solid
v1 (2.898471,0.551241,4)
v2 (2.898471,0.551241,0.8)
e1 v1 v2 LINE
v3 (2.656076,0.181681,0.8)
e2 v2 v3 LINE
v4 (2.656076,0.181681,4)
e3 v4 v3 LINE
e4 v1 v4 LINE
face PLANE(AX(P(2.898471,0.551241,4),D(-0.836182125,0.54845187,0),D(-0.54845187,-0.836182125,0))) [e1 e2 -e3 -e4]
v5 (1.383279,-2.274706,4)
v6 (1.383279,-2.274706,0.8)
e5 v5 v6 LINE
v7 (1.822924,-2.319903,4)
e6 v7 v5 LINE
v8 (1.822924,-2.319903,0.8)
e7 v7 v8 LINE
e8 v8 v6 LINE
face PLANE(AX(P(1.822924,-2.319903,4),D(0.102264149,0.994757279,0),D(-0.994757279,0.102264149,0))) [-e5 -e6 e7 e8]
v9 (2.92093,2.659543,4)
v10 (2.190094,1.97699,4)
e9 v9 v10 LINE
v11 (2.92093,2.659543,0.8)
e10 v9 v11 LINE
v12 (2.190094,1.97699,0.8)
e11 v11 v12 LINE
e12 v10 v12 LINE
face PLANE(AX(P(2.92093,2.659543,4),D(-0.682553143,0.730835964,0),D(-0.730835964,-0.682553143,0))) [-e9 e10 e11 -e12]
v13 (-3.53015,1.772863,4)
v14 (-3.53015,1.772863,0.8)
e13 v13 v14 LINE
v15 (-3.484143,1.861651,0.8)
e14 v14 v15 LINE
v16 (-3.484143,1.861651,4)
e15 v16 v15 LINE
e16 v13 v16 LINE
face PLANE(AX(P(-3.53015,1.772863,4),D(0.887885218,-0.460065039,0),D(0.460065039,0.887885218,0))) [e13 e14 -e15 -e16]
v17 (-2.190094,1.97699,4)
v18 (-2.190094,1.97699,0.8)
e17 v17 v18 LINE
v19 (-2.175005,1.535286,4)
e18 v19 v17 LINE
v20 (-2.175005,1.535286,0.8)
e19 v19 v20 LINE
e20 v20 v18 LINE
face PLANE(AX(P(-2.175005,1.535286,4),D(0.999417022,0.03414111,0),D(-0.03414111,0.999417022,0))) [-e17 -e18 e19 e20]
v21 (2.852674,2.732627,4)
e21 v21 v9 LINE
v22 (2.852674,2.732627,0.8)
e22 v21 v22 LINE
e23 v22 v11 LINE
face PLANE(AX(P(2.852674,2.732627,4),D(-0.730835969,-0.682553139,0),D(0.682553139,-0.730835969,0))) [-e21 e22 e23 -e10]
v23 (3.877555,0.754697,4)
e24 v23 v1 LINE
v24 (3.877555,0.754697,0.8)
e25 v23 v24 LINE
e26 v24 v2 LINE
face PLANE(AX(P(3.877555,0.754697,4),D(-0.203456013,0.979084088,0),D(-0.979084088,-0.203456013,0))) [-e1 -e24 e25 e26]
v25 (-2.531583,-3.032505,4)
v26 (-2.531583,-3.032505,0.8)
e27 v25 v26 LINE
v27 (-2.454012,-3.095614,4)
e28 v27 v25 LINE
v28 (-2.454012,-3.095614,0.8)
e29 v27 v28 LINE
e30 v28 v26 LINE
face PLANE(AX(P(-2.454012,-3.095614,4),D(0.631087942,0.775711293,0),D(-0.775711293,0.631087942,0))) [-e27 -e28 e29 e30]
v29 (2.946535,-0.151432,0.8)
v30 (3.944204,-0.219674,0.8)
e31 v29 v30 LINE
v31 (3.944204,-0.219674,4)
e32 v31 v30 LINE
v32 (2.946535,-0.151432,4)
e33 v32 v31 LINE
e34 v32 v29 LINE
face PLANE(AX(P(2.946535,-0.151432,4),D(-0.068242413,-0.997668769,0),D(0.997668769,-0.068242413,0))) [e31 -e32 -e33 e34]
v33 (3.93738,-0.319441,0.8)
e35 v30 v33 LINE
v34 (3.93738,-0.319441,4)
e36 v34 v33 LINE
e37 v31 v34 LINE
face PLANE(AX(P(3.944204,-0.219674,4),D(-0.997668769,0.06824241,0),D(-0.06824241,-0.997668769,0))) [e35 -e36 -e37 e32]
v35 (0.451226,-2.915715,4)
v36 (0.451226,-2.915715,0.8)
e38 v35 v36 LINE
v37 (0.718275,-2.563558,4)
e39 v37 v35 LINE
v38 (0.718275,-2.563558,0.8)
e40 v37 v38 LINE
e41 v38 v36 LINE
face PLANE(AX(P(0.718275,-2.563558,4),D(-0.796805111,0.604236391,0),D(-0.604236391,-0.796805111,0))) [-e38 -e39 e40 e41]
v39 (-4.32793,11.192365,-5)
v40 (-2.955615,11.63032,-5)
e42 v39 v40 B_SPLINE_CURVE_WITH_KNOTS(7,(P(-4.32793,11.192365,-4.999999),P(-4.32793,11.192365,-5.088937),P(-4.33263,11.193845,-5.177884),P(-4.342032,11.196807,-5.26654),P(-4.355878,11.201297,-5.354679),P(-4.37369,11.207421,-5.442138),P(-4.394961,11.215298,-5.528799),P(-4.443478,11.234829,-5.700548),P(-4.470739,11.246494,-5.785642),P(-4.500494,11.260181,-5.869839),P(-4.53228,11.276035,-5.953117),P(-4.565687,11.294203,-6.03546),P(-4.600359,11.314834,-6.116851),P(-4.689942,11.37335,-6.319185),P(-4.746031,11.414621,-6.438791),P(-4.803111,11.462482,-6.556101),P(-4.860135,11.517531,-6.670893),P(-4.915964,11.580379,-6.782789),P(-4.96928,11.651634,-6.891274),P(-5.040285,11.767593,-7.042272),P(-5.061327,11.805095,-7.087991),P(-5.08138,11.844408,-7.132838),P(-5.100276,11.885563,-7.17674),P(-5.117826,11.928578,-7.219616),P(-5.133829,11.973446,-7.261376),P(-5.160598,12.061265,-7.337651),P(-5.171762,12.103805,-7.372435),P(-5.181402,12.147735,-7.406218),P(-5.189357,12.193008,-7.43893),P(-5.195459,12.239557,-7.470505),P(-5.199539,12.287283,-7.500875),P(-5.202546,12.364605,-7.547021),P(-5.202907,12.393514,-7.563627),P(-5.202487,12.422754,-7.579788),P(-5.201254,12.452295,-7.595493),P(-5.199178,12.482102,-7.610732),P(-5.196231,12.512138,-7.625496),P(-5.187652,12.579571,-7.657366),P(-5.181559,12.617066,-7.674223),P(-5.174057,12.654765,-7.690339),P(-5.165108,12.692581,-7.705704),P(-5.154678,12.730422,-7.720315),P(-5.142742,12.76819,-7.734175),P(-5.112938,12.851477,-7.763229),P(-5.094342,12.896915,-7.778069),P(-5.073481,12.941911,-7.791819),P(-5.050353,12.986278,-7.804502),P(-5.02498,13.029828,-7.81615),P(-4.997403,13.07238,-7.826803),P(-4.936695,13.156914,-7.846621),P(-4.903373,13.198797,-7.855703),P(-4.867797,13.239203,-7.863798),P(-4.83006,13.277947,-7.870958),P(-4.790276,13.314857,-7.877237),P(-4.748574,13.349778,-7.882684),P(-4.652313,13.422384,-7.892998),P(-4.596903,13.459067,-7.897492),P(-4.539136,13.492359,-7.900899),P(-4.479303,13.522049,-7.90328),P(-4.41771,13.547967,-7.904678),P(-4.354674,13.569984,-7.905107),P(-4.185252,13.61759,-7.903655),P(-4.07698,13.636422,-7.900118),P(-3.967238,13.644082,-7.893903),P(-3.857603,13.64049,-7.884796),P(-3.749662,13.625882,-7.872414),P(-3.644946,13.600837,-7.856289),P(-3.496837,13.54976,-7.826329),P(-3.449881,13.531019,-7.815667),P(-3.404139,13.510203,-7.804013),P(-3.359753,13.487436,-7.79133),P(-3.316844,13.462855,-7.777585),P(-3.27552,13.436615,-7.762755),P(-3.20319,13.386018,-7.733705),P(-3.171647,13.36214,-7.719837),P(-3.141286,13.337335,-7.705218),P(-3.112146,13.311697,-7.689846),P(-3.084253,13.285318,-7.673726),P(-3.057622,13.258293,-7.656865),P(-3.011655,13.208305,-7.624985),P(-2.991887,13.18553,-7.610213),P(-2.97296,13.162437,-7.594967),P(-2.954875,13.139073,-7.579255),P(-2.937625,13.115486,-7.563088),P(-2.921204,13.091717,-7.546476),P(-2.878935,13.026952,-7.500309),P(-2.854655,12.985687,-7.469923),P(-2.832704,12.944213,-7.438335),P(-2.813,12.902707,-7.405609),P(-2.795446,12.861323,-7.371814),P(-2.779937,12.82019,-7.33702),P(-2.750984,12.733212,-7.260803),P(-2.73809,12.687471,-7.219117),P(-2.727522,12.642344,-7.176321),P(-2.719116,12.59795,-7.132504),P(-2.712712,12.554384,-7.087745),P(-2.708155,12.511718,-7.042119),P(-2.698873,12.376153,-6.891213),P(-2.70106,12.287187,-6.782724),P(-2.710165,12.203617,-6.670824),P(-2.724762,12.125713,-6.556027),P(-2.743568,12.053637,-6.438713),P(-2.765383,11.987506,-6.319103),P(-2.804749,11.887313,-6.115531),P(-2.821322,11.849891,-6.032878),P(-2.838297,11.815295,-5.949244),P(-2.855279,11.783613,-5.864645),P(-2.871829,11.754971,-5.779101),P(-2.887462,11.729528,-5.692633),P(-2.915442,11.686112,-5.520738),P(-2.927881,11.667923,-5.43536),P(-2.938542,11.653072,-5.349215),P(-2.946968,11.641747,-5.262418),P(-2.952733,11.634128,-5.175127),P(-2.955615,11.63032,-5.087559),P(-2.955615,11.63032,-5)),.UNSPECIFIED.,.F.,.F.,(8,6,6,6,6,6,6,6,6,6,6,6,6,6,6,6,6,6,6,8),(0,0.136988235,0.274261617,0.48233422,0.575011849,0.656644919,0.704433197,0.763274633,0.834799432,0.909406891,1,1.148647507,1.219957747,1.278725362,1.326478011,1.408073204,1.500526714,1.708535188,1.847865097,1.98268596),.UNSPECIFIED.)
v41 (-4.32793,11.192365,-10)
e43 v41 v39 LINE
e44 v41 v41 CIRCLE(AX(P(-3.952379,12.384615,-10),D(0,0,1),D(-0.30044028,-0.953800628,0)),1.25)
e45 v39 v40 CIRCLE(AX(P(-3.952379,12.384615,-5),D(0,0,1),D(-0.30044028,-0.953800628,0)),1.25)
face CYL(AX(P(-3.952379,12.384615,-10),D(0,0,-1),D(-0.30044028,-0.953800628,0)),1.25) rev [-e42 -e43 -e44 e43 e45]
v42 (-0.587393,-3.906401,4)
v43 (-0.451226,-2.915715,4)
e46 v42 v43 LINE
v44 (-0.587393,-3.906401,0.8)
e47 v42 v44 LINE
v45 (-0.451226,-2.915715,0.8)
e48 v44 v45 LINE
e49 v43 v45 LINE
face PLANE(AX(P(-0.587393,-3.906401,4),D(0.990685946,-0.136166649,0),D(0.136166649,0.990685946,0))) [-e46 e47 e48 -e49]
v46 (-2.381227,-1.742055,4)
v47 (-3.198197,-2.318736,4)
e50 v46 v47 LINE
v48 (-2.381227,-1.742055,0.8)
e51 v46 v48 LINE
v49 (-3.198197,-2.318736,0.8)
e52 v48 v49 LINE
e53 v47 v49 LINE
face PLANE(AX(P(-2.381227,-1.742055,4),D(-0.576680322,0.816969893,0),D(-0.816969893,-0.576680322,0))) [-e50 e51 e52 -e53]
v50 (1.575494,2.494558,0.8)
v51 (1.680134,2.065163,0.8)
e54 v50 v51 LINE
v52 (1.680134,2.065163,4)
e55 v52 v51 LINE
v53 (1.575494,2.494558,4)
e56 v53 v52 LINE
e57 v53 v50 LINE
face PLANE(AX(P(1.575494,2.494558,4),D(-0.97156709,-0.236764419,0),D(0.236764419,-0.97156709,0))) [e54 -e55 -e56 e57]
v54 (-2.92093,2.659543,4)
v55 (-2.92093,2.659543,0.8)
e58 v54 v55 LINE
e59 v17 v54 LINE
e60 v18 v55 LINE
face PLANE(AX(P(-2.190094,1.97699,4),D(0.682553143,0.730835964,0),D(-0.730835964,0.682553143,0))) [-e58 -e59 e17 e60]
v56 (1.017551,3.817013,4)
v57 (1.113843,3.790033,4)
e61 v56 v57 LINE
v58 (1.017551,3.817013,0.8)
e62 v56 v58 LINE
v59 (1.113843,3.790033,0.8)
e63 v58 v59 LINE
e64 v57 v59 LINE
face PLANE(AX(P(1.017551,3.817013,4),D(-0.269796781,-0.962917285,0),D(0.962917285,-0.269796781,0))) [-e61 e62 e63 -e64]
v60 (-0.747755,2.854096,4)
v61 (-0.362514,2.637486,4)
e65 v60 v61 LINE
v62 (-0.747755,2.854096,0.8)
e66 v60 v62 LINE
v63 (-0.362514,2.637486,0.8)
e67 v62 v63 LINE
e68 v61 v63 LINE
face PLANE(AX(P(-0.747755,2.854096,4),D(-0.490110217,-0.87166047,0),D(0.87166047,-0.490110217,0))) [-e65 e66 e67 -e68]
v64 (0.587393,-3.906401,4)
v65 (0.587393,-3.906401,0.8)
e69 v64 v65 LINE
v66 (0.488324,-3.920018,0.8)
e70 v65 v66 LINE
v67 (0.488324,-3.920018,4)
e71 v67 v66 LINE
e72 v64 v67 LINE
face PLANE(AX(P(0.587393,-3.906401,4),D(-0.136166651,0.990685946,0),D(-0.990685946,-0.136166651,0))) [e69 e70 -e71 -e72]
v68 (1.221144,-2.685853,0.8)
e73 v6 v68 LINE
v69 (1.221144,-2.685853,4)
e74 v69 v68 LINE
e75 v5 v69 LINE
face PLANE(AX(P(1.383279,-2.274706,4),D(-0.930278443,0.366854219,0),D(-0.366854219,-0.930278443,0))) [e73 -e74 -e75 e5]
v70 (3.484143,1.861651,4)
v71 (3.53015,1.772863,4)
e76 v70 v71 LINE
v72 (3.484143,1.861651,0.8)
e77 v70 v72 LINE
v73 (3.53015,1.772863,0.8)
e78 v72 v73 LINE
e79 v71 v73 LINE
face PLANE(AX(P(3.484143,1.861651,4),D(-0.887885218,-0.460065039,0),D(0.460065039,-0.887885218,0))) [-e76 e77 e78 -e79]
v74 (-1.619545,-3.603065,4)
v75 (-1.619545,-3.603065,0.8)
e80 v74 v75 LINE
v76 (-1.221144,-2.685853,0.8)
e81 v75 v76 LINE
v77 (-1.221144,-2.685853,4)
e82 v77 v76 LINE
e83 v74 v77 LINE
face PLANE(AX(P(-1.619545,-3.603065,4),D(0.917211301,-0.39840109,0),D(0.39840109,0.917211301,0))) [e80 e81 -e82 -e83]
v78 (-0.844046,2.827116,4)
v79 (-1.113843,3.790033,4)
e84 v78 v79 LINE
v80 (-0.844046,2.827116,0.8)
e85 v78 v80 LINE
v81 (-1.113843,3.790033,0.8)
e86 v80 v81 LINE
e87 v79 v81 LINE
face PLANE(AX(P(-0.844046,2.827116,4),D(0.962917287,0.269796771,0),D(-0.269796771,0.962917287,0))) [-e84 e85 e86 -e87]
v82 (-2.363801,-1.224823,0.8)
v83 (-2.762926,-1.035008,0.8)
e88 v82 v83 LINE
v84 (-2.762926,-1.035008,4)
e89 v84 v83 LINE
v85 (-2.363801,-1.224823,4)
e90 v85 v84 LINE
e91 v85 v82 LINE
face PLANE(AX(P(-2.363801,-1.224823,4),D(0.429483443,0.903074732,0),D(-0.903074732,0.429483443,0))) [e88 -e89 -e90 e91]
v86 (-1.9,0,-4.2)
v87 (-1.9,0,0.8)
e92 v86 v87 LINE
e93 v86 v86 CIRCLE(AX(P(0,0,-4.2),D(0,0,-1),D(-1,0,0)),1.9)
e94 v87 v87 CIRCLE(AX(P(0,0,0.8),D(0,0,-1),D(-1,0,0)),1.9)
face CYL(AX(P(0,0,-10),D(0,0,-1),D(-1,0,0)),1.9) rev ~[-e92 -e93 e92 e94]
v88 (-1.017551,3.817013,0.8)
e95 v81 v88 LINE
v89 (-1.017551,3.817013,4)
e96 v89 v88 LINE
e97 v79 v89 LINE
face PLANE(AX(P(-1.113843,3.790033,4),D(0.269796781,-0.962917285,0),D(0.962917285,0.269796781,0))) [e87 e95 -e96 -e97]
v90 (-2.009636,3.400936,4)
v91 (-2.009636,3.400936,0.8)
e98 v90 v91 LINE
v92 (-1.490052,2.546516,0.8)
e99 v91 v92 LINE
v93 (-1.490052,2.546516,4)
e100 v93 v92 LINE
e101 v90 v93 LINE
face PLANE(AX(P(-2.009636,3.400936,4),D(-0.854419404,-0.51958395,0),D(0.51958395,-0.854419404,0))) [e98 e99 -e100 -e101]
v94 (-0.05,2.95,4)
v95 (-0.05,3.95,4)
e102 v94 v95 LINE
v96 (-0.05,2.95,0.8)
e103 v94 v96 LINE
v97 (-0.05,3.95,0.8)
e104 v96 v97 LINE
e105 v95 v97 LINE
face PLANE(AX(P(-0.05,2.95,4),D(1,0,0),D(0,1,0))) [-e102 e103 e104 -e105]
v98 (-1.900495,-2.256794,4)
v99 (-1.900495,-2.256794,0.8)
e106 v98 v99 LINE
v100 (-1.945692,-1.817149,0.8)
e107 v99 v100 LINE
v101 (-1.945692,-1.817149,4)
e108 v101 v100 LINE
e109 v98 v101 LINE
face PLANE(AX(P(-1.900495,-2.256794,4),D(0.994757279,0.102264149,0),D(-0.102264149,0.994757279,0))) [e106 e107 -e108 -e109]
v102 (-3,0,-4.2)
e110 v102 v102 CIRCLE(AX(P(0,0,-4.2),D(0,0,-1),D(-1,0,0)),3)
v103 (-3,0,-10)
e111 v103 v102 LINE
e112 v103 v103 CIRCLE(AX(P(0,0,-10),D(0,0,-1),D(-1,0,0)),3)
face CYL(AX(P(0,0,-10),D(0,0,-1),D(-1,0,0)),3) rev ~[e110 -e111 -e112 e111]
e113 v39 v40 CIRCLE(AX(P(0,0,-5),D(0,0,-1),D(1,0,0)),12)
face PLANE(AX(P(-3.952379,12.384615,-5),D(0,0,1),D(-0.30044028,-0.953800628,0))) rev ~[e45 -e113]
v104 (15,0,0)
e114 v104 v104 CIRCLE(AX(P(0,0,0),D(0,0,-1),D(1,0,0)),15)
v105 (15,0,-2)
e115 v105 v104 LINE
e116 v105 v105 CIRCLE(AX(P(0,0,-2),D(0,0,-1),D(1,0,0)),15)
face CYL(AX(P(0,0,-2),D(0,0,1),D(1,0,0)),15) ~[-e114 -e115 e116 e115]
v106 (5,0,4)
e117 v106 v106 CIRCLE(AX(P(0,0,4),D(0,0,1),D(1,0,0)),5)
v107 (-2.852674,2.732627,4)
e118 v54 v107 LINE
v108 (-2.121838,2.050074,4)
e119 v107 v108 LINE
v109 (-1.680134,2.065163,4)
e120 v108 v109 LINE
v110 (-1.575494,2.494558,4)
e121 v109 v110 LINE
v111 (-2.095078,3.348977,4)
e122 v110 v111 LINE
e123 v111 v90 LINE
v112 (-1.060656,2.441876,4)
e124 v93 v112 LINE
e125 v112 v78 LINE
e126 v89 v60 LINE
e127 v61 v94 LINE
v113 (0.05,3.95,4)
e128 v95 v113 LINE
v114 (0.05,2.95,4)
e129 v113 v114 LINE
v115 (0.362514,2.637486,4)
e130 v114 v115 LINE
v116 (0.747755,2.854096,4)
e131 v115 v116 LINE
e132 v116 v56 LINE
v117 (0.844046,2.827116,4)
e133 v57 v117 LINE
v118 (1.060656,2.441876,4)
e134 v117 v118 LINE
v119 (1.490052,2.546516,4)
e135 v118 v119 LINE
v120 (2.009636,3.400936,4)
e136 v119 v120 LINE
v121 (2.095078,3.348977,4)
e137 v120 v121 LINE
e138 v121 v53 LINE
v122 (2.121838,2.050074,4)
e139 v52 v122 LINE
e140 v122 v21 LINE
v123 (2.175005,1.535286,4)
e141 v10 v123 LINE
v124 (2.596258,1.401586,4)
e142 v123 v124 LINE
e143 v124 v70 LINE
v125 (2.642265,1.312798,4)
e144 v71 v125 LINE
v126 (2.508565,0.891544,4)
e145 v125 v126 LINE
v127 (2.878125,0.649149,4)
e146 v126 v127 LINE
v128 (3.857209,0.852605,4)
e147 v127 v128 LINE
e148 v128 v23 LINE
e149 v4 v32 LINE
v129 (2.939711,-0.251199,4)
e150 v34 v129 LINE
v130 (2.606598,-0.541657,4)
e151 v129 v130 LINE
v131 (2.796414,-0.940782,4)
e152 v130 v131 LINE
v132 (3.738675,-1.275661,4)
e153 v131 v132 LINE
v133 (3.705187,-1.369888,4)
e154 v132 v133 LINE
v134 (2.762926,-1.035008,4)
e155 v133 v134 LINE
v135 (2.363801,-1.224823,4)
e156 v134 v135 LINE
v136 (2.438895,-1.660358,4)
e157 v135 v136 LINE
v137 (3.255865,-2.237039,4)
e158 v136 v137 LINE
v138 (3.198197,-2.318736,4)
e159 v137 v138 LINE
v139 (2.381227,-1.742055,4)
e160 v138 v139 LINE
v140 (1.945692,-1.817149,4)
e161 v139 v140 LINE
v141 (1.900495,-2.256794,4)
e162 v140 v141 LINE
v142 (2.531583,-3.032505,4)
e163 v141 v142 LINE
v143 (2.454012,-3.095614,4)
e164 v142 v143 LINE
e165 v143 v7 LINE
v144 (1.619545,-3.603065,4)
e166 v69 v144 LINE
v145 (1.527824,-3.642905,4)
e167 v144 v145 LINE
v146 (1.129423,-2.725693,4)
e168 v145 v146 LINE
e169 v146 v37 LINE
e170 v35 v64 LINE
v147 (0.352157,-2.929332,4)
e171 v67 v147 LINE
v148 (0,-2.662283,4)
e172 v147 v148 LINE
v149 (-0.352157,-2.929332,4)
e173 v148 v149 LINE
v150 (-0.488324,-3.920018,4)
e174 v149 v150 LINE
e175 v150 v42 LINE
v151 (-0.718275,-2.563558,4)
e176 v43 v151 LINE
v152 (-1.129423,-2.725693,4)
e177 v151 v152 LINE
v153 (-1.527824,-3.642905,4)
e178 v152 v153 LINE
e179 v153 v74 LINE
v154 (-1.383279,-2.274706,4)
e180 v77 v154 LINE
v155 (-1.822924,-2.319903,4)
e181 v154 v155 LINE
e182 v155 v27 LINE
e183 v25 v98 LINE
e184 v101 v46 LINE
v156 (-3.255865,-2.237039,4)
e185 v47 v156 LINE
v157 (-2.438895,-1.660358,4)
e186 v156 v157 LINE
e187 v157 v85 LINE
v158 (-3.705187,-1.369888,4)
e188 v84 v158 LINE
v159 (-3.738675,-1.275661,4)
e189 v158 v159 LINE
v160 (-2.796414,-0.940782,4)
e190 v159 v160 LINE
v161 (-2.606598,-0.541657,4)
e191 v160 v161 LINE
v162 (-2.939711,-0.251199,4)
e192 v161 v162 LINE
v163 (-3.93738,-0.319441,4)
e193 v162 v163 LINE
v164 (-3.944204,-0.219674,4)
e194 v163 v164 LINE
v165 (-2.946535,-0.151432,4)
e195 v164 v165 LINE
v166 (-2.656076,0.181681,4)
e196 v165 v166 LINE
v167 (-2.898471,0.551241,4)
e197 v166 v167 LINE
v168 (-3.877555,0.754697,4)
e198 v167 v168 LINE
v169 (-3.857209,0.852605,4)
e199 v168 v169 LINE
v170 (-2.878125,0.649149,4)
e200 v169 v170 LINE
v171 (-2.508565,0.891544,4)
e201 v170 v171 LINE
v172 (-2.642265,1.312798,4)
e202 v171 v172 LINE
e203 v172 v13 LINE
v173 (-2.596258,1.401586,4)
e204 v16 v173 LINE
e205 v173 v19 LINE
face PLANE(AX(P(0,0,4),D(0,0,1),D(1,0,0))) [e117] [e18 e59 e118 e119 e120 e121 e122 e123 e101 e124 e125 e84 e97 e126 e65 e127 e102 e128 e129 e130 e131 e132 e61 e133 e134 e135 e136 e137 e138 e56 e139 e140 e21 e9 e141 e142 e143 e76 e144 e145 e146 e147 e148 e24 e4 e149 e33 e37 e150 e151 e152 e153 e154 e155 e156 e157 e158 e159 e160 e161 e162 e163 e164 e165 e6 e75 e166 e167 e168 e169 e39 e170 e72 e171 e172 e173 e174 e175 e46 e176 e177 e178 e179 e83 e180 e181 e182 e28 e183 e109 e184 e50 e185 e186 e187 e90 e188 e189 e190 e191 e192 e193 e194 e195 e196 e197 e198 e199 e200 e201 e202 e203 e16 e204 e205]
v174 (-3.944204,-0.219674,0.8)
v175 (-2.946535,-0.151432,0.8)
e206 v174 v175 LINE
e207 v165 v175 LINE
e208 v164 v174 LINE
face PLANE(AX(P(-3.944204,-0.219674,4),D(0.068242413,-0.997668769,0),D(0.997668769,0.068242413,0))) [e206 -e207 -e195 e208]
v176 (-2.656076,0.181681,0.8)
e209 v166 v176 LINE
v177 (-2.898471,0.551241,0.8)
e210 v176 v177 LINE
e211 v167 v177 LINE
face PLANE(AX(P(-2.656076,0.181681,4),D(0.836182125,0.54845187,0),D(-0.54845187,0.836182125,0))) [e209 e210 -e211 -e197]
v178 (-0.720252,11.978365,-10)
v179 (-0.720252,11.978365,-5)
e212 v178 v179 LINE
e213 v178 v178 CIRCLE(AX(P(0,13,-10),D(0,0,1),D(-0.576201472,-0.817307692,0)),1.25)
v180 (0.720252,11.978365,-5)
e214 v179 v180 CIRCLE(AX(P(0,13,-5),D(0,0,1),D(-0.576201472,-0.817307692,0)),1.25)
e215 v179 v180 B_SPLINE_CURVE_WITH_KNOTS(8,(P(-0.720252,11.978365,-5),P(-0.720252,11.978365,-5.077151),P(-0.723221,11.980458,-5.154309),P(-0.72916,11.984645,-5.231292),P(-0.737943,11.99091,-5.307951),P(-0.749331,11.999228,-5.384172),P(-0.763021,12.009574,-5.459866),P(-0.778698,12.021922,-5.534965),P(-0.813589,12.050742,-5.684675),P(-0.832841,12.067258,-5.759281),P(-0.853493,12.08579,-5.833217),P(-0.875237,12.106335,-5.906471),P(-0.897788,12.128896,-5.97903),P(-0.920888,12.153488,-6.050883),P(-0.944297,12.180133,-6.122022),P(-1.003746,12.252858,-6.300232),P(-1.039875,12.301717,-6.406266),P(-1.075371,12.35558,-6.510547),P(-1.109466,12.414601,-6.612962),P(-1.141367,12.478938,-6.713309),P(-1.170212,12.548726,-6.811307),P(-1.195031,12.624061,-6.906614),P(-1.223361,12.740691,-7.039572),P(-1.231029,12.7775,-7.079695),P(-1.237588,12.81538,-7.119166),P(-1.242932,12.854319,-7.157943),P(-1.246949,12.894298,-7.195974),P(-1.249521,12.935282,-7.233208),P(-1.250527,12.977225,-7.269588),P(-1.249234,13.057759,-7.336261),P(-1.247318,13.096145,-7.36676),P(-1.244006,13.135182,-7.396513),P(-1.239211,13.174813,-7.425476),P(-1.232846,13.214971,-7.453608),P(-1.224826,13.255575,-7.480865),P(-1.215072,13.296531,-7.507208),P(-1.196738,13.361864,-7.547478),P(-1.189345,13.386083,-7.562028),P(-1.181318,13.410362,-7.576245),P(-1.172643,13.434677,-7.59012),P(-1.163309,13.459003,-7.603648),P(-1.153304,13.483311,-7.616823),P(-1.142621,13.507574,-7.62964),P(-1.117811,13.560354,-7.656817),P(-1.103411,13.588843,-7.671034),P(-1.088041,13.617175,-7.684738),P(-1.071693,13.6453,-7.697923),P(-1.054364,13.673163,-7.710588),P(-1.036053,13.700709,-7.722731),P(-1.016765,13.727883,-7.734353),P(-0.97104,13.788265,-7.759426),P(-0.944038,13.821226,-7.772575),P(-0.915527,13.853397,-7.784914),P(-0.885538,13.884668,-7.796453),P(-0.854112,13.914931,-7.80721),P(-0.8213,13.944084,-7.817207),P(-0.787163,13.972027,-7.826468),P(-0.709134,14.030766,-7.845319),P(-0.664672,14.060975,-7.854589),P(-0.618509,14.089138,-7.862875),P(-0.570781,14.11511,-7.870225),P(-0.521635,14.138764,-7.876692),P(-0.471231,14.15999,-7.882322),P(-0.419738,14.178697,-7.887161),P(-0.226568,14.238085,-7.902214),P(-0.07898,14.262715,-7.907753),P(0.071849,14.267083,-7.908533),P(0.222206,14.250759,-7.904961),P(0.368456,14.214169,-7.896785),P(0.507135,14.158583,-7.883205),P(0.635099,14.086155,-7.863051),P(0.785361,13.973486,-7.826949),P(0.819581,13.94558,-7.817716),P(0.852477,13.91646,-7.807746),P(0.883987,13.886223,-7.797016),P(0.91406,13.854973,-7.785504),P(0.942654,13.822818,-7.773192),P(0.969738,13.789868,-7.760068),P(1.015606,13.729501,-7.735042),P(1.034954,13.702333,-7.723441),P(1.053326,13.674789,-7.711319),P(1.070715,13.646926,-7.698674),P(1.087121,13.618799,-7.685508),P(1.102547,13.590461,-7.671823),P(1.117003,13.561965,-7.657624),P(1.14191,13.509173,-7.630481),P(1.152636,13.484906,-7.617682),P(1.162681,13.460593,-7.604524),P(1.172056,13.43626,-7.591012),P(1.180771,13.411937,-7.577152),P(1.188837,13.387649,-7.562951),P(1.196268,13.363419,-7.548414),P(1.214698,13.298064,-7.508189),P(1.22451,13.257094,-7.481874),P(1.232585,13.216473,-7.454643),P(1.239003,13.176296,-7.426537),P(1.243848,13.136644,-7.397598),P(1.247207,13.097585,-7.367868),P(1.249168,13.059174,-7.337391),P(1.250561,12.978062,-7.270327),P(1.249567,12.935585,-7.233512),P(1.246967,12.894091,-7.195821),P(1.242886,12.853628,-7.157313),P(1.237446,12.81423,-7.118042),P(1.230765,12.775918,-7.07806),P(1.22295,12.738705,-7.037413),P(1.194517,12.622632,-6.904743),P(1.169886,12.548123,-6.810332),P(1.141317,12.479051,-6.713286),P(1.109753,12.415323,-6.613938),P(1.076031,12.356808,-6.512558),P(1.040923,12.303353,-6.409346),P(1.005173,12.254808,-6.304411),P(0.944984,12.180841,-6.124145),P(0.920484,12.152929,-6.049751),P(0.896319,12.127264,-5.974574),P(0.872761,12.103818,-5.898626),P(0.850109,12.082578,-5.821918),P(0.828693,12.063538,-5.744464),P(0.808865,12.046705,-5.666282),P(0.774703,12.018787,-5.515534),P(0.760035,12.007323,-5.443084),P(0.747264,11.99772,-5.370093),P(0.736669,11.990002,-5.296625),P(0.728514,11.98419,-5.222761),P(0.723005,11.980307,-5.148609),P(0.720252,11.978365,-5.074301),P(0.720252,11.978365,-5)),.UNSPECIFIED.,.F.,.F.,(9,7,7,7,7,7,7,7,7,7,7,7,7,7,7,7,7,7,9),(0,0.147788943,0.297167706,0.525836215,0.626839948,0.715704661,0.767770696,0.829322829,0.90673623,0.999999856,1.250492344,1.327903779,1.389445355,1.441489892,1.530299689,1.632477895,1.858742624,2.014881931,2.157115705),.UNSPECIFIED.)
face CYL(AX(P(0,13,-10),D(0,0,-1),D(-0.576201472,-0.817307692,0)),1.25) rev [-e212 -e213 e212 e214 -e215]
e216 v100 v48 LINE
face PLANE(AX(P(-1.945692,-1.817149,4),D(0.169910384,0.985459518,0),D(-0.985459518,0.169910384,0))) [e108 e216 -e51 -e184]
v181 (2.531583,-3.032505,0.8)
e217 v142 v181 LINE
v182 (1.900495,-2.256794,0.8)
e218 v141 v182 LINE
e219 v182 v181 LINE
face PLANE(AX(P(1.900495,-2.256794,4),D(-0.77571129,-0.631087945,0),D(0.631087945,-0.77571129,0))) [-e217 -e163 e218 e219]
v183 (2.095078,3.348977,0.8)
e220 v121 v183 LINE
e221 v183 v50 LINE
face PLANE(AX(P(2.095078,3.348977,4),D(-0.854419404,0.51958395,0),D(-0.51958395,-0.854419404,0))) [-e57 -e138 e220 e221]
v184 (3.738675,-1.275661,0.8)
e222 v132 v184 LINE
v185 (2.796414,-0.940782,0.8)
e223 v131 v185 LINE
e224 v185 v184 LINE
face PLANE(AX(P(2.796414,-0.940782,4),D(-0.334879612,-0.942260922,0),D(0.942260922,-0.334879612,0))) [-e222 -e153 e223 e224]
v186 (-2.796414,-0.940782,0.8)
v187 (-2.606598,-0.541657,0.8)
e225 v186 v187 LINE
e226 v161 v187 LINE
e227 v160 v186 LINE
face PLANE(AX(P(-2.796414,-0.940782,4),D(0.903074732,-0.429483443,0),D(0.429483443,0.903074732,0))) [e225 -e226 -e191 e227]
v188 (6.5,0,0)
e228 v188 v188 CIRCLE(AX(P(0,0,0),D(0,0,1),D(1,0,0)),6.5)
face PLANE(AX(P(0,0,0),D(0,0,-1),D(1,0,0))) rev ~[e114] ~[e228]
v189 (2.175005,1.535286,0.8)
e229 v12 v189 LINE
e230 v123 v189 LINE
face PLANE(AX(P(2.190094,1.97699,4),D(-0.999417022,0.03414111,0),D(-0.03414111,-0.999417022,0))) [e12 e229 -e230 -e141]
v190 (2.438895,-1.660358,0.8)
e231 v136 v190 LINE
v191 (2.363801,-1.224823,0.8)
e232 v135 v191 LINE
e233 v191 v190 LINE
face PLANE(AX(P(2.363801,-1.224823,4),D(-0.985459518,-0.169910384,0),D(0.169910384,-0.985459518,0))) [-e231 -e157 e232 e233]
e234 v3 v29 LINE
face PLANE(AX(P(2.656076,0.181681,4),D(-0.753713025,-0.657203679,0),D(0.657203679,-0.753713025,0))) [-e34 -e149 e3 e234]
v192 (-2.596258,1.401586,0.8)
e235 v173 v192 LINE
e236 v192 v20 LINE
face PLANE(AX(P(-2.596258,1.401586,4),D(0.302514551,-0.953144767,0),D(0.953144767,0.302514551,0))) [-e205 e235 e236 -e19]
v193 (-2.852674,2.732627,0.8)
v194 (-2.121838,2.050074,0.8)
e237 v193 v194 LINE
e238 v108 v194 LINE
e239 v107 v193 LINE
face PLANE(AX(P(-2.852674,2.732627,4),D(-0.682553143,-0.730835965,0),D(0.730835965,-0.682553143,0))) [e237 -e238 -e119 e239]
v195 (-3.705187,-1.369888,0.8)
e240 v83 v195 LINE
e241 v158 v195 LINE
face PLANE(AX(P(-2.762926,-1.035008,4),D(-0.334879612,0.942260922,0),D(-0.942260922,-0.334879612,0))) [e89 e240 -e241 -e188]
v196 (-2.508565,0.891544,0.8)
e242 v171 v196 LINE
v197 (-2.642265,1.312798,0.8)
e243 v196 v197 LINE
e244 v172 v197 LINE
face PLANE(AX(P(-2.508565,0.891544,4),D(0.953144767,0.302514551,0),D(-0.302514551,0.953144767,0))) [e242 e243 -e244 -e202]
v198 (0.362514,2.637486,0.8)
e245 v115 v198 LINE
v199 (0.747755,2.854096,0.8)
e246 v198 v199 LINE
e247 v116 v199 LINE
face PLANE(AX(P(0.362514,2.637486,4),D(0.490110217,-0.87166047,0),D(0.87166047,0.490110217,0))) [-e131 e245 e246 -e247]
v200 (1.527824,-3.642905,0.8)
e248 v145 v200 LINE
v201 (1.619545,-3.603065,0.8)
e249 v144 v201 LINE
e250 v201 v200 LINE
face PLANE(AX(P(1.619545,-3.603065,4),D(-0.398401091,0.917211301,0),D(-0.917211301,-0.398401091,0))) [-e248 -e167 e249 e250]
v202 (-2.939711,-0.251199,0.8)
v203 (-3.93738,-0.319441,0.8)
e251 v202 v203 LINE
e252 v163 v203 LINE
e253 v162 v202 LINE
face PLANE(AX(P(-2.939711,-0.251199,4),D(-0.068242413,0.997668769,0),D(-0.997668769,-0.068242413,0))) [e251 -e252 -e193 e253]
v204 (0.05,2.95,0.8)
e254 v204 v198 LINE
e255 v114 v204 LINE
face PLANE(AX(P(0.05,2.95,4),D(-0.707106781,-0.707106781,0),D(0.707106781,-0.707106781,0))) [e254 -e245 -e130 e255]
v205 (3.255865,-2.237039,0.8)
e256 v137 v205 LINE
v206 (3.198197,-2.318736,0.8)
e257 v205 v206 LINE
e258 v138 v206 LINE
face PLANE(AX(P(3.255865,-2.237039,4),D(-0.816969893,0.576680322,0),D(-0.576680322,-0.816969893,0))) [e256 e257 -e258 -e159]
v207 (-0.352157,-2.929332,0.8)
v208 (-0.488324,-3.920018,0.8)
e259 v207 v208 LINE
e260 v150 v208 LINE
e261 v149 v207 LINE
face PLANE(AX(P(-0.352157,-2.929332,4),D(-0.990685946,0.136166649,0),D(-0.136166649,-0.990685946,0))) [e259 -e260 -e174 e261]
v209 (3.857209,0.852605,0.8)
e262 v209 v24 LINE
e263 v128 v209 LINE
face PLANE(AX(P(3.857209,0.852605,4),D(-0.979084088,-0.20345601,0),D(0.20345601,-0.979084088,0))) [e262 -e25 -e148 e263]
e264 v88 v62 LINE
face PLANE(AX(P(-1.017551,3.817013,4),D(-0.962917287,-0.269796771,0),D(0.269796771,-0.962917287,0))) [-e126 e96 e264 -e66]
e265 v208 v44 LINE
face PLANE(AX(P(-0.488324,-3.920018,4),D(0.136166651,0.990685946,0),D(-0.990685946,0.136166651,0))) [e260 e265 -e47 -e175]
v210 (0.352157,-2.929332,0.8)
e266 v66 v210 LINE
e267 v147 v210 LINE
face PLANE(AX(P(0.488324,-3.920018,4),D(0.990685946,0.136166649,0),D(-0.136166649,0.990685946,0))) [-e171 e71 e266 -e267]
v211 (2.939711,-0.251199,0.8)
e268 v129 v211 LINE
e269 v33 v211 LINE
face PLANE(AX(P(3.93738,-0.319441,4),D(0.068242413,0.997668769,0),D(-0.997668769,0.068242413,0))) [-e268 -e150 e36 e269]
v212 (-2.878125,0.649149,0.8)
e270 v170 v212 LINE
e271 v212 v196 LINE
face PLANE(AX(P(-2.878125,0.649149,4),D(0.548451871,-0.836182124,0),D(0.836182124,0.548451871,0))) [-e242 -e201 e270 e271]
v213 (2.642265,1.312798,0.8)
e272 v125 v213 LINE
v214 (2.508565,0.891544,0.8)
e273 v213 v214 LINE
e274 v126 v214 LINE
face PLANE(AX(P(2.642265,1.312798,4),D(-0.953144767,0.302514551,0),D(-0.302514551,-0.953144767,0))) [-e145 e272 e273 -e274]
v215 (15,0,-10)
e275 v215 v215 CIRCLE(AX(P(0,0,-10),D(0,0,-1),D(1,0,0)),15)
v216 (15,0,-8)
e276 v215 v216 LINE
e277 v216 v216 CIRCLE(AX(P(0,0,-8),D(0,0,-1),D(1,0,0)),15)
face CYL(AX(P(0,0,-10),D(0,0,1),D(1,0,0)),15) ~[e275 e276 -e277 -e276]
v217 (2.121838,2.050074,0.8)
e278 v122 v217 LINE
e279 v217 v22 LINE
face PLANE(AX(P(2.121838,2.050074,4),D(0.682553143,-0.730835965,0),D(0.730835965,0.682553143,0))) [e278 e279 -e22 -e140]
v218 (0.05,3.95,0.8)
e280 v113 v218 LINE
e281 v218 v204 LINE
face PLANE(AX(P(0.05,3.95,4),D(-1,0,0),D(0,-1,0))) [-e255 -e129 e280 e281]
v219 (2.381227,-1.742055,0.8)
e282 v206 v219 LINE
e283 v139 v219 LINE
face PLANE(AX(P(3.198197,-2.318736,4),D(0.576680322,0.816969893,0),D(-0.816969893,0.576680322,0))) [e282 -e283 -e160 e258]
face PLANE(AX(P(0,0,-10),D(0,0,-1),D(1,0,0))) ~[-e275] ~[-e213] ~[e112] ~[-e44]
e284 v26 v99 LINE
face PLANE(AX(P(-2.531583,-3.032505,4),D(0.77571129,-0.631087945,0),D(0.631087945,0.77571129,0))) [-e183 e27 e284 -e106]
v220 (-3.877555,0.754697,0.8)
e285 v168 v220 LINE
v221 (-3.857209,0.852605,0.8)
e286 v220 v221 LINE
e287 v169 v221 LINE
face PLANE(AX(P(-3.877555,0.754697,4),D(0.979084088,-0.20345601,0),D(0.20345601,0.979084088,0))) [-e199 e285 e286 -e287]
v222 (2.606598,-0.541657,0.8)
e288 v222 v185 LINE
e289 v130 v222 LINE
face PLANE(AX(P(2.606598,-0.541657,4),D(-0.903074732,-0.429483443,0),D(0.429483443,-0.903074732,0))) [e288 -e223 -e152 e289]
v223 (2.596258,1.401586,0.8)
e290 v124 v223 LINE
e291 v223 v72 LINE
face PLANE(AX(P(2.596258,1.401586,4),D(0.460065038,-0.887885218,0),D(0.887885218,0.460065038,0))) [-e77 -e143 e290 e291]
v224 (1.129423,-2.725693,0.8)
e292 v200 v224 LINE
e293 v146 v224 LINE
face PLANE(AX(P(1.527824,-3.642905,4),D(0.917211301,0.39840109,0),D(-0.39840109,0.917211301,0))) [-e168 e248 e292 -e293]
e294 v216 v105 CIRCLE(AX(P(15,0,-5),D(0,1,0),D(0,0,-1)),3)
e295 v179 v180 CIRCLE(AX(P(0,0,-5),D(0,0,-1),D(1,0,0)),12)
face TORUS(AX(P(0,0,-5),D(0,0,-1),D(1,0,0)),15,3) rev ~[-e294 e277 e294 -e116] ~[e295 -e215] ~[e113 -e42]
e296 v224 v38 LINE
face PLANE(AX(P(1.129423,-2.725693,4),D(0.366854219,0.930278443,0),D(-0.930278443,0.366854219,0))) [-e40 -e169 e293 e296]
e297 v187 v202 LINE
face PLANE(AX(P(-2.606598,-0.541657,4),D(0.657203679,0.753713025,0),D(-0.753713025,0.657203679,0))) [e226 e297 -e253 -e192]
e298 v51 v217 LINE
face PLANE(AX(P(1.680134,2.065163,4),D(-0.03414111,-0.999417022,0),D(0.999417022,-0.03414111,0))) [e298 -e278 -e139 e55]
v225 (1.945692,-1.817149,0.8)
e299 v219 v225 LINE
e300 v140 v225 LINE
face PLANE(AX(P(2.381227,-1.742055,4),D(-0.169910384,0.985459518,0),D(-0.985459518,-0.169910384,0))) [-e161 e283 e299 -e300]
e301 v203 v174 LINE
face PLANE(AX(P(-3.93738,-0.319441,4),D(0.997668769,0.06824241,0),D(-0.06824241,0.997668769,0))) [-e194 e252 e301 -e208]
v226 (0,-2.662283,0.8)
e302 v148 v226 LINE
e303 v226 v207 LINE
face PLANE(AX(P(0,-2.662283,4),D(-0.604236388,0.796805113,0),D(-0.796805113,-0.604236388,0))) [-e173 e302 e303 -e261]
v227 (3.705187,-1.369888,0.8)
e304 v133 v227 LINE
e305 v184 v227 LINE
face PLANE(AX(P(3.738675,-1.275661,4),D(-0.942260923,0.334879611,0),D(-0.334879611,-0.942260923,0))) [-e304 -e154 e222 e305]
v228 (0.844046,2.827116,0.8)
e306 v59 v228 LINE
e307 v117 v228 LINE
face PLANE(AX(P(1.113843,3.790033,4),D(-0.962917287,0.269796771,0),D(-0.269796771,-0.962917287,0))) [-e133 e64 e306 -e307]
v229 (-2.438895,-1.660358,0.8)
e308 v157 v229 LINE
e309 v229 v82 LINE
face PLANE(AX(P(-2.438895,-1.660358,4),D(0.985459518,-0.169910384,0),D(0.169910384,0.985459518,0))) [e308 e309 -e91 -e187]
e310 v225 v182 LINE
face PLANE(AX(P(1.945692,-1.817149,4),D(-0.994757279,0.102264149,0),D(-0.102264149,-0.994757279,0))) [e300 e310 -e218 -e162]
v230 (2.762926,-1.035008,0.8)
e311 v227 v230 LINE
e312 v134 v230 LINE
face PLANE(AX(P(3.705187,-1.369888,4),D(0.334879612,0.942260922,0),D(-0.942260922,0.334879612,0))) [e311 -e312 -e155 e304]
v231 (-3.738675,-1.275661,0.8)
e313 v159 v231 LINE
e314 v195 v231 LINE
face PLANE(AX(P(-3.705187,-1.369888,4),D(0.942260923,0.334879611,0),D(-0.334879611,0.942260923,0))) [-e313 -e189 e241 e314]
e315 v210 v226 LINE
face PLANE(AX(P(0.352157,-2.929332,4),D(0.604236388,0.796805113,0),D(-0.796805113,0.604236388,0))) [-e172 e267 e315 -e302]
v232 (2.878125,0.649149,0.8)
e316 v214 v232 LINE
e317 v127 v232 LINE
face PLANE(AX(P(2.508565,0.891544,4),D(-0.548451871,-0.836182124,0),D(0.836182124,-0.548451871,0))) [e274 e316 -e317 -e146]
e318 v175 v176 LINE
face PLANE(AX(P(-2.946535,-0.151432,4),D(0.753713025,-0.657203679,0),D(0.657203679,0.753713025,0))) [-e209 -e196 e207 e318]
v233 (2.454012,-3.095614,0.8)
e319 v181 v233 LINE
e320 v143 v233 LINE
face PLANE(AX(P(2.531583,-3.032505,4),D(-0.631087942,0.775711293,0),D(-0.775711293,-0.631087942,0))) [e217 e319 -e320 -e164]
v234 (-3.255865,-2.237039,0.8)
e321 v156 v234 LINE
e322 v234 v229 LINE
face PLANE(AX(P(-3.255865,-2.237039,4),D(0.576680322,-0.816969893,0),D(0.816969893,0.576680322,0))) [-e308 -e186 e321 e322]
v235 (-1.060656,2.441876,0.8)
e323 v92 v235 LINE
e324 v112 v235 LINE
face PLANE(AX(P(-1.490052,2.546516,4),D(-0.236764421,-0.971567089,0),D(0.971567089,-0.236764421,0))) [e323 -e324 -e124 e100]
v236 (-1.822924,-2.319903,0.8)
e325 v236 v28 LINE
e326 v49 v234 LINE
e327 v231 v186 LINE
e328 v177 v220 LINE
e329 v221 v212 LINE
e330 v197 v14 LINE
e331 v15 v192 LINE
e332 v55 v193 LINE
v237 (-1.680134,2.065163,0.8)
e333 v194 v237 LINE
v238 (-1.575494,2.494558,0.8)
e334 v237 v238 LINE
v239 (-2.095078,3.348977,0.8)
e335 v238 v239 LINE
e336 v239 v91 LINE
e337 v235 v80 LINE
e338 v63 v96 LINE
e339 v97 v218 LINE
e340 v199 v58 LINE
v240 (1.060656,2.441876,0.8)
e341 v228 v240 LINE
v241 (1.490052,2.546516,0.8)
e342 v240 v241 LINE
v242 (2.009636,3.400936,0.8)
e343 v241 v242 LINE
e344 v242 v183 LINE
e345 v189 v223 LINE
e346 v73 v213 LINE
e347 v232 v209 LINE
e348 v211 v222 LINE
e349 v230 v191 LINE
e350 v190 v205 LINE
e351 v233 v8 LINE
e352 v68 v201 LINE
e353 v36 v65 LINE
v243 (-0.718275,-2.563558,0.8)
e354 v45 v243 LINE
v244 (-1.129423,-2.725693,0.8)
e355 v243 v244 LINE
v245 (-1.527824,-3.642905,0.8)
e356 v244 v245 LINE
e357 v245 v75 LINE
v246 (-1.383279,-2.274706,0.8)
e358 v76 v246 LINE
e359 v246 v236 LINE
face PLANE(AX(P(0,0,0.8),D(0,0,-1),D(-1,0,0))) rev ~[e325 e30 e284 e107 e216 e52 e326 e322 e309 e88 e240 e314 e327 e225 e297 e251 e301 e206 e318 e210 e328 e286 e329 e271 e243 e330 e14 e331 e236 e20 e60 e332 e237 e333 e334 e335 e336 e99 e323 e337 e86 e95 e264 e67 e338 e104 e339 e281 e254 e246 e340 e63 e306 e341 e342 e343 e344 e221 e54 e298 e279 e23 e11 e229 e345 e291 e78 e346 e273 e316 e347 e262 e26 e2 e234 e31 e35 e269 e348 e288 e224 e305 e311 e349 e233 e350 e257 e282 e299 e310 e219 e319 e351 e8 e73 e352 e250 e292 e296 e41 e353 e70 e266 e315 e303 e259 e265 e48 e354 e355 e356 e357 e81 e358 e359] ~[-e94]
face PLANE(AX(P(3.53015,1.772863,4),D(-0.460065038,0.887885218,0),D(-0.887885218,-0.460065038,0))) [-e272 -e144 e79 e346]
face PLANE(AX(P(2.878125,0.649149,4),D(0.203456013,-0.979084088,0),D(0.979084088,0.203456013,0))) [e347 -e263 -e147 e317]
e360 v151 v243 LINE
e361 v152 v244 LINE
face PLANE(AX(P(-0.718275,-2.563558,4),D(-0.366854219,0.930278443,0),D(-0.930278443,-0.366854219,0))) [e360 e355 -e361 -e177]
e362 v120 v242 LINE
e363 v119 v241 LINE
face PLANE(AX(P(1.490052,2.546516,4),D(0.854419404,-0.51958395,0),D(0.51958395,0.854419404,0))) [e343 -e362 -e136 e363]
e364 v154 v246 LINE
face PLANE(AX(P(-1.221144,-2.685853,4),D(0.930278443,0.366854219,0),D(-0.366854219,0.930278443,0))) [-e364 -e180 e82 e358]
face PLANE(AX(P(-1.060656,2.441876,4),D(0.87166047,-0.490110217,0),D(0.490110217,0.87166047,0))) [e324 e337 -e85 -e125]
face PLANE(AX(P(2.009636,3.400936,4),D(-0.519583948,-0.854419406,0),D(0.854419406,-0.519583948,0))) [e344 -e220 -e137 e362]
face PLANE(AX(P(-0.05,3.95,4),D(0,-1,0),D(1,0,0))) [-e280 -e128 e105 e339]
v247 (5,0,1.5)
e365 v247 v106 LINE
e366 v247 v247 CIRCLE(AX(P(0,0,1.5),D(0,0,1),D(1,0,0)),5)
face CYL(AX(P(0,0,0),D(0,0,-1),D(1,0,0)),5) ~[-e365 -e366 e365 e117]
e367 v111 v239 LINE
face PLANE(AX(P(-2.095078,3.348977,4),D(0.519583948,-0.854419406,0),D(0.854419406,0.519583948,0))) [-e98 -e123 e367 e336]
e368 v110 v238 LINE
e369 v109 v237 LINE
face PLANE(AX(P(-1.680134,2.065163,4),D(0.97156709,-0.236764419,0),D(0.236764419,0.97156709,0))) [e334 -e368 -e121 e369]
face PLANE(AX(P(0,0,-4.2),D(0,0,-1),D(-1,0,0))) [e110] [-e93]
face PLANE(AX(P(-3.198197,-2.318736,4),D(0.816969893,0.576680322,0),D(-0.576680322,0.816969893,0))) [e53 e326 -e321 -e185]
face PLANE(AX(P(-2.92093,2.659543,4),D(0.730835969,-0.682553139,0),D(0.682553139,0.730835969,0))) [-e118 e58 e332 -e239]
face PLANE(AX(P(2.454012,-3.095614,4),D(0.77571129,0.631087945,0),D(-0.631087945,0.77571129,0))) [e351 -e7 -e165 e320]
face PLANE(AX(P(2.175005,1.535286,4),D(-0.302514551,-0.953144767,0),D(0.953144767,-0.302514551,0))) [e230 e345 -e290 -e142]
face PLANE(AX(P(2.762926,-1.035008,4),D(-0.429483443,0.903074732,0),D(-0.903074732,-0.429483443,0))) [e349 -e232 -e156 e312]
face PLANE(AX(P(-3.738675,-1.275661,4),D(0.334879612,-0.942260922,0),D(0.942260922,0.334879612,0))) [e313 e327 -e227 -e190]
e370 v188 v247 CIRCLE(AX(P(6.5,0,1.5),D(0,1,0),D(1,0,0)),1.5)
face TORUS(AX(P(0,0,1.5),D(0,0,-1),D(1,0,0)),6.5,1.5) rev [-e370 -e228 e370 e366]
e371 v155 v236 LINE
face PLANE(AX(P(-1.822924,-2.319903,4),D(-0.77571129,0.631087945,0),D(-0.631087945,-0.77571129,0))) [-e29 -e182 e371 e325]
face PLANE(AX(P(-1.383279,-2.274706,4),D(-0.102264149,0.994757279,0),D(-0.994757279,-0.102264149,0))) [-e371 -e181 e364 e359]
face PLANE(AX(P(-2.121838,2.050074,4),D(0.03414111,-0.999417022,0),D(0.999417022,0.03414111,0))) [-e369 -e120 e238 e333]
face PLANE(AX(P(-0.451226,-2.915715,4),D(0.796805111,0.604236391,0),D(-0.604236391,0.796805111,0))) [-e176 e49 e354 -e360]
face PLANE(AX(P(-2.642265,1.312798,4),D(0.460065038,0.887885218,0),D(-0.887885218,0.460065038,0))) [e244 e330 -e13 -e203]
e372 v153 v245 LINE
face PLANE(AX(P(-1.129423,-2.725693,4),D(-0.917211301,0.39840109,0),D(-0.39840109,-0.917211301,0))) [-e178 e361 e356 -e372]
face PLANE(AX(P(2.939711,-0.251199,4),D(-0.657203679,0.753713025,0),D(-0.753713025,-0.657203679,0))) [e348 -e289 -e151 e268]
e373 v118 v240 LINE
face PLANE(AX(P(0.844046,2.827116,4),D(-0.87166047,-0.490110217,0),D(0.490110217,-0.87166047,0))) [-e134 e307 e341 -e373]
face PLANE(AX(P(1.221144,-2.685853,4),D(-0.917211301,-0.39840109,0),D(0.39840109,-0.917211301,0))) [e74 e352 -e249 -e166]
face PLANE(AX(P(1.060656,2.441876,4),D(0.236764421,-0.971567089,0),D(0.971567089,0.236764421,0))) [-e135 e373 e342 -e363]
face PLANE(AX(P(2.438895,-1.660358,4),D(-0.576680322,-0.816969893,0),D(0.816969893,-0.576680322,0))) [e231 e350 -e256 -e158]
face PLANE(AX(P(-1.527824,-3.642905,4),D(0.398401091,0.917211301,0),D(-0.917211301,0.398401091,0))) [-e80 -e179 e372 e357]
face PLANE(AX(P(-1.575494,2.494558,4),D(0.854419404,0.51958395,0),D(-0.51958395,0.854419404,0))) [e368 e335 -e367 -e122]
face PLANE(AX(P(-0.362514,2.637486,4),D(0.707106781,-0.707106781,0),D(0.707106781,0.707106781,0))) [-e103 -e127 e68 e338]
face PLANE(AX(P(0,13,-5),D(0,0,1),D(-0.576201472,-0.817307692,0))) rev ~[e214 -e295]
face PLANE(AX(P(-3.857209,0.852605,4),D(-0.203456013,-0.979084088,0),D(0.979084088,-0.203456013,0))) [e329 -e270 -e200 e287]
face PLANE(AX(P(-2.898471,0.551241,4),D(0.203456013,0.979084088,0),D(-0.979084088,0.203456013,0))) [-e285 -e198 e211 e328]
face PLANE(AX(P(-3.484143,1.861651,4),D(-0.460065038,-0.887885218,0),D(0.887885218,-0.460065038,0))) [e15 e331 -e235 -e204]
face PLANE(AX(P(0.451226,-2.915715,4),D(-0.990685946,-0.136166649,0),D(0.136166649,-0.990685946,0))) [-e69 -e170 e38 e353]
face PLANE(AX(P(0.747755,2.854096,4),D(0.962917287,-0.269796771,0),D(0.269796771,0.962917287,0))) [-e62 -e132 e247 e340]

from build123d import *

# Parameters (mm, degrees)
SKETCH_6_R          = 5
EXTRUDE_3_DEPTH     = 4
CUT_EXTRUDE_START   = 4
CUT_EXTRUDE_5_DEPTH = 3.2
FILLET_2_R          = 1.5
SKETCH_9_R          = 1.9
CUT_EXTRUDE_6_DEPTH = 26.416530054
SKETCH_10_R         = 3
CUT_EXTRUDE_7_DEPTH = 5.8
SKETCH_11_R         = 1.25
CUT_EXTRUDE_8_DEPTH = 5


with BuildPart() as part:
    # ｽｹｯﾁ8 → 回転1 (revolve)
    with BuildSketch(Plane(origin=(0, 0, 0), x_dir=(1, 0, 0), z_dir=(0, 1, 0))):
        with BuildLine():
            Line((0, 0), (0, 10))
            Line((0, 10), (15, 10))
            Line((15, 10), (15, 8))
            ThreePointArc((15, 8), (12, 5), (15, 2))
            Line((15, 2), (15, 0))
            Line((15, 0), (0, 0))
        make_face()
    revolve(axis=Axis((0, 0, 0), (0, 0, -1)))

    # ｽｹｯﾁ6 → ﾎﾞｽ - 押し出し3 (add)
    with BuildSketch(Plane.XY):
        Circle(SKETCH_6_R)
    extrude(amount=EXTRUDE_3_DEPTH)

    # ｽｹｯﾁ5 → ｶｯﾄ - 押し出し5 (cut)
    with BuildSketch(Plane.XY.offset(CUT_EXTRUDE_START)):
        Polygon((-0.05, 2.95), (-0.05, 3.95), (0.05, 3.95), (0.05, 2.95), (0.362514094, 2.637485906), (0.747754611, 2.854095836), (1.017551382, 3.817013124), (1.11384311, 3.790033446), (0.844046339, 2.827116159), (1.060656269, 2.441875642), (1.490051682, 2.546516441), (2.009635632, 3.400935845), (2.095077573, 3.34897745), (1.575493623, 2.494558046), (1.680134421, 2.065162633), (2.121838437, 2.050073571), (2.852674402, 2.732626714), (2.920929716, 2.659543117), (2.190093752, 1.976989974), (2.17500469, 1.535285958), (2.596258142, 1.401586122), (3.484143361, 1.86165116), (3.530149865, 1.772862638), (2.642264646, 1.3127976), (2.50856481, 0.891544148), (2.878125258, 0.649149443), (3.857209346, 0.852605456), (3.877554947, 0.754697047), (2.898470859, 0.551241034), (2.656076155, 0.181680586), (2.94653499, -0.151431681), (3.944203759, -0.219674094), (3.937379518, -0.319440971), (2.939710748, -0.251198558), (2.606598481, -0.541657393), (2.796413701, -0.94078181), (3.738674623, -1.275661422), (3.705186662, -1.369887514), (2.76292574, -1.035007902), (2.363801323, -1.224823122), (2.4388952, -1.660358456), (3.255865093, -2.237038778), (3.198197061, -2.318735767), (2.381227168, -1.742055445), (1.945691834, -1.817149322), (1.900495, -2.25679391), (2.531582945, -3.032505201), (2.454011816, -3.095613995), (1.822923871, -2.319902705), (1.383279283, -2.274705871), (1.22114378, -2.685853285), (1.61954487, -3.603064586), (1.52782374, -3.642904695), (1.12942265, -2.725693394), (0.718275236, -2.563557891), (0.451225912, -2.915715208), (0.587392561, -3.906401154), (0.488323967, -3.920017819), (0.352157318, -2.929331873), (0, -2.66228255), (-0.352157318, -2.929331873), (-0.488323967, -3.920017819), (-0.587392561, -3.906401154), (-0.451225912, -2.915715208), (-0.718275236, -2.563557891), (-1.12942265, -2.725693394), (-1.52782374, -3.642904695), (-1.61954487, -3.603064586), (-1.22114378, -2.685853285), (-1.383279283, -2.274705871), (-1.822923871, -2.319902705), (-2.454011816, -3.095613995), (-2.531582945, -3.032505201), (-1.900495, -2.25679391), (-1.945691834, -1.817149322), (-2.381227168, -1.742055445), (-3.198197061, -2.318735767), (-3.255865093, -2.237038778), (-2.4388952, -1.660358456), (-2.363801323, -1.224823122), (-2.76292574, -1.035007902), (-3.705186662, -1.369887514), (-3.738674623, -1.275661422), (-2.796413701, -0.94078181), (-2.606598481, -0.541657393), (-2.939710748, -0.251198558), (-3.937379518, -0.319440971), (-3.944203759, -0.219674094), (-2.94653499, -0.151431681), (-2.656076155, 0.181680586), (-2.898470859, 0.551241034), (-3.877554947, 0.754697047), (-3.857209346, 0.852605456), (-2.878125258, 0.649149443), (-2.50856481, 0.891544148), (-2.642264646, 1.3127976), (-3.530149865, 1.772862638), (-3.484143361, 1.86165116), (-2.596258142, 1.401586122), (-2.17500469, 1.535285958), (-2.190093752, 1.976989974), (-2.920929716, 2.659543117), (-2.852674402, 2.732626714), (-2.121838437, 2.050073571), (-1.680134421, 2.065162633), (-1.575493623, 2.494558046), (-2.095077573, 3.34897745), (-2.009635632, 3.400935845), (-1.490051682, 2.546516441), (-1.060656269, 2.441875642), (-0.844046339, 2.827116159), (-1.11384311, 3.790033446), (-1.017551382, 3.817013124), (-0.747754611, 2.854095836), (-0.362514094, 2.637485906), align=None)
    extrude(amount=-CUT_EXTRUDE_5_DEPTH, mode=Mode.SUBTRACT)

    # ﾌｨﾚｯﾄ2
    fillet_2_edges = [part.edges().sort_by_distance(p)[0] for p in [
        (-5, 0, 0),
    ]]
    fillet(fillet_2_edges, radius=FILLET_2_R)

    # ｽｹｯﾁ9 → ｶｯﾄ - 押し出し6 (cut, through all)
    with BuildSketch(Plane(origin=(0, 0, -10), x_dir=(-1, 0, 0), z_dir=(0, 0, -1))):
        Circle(SKETCH_9_R)
    extrude(amount=-CUT_EXTRUDE_6_DEPTH, mode=Mode.SUBTRACT)

    # ｽｹｯﾁ10 → ｶｯﾄ - 押し出し7 (cut)
    with BuildSketch(Plane(origin=(0, 0, -10), x_dir=(-1, 0, 0), z_dir=(0, 0, -1))):
        Circle(SKETCH_10_R)
    extrude(amount=-CUT_EXTRUDE_7_DEPTH, mode=Mode.SUBTRACT)

    # ｽｹｯﾁ11 → ｶｯﾄ - 押し出し8 (cut)
    with BuildSketch(Plane.XY.offset(-10)):
        with Locations(Location((0, 13, 0), (0, 0, 234.816184512))):
            Circle(SKETCH_11_R)
        with Locations(Location((-3.952379255, 12.384615385, 0), (0, 0, 252.515950709))):
            Circle(SKETCH_11_R)
    extrude(amount=CUT_EXTRUDE_8_DEPTH, mode=Mode.SUBTRACT)


solid = part.part
